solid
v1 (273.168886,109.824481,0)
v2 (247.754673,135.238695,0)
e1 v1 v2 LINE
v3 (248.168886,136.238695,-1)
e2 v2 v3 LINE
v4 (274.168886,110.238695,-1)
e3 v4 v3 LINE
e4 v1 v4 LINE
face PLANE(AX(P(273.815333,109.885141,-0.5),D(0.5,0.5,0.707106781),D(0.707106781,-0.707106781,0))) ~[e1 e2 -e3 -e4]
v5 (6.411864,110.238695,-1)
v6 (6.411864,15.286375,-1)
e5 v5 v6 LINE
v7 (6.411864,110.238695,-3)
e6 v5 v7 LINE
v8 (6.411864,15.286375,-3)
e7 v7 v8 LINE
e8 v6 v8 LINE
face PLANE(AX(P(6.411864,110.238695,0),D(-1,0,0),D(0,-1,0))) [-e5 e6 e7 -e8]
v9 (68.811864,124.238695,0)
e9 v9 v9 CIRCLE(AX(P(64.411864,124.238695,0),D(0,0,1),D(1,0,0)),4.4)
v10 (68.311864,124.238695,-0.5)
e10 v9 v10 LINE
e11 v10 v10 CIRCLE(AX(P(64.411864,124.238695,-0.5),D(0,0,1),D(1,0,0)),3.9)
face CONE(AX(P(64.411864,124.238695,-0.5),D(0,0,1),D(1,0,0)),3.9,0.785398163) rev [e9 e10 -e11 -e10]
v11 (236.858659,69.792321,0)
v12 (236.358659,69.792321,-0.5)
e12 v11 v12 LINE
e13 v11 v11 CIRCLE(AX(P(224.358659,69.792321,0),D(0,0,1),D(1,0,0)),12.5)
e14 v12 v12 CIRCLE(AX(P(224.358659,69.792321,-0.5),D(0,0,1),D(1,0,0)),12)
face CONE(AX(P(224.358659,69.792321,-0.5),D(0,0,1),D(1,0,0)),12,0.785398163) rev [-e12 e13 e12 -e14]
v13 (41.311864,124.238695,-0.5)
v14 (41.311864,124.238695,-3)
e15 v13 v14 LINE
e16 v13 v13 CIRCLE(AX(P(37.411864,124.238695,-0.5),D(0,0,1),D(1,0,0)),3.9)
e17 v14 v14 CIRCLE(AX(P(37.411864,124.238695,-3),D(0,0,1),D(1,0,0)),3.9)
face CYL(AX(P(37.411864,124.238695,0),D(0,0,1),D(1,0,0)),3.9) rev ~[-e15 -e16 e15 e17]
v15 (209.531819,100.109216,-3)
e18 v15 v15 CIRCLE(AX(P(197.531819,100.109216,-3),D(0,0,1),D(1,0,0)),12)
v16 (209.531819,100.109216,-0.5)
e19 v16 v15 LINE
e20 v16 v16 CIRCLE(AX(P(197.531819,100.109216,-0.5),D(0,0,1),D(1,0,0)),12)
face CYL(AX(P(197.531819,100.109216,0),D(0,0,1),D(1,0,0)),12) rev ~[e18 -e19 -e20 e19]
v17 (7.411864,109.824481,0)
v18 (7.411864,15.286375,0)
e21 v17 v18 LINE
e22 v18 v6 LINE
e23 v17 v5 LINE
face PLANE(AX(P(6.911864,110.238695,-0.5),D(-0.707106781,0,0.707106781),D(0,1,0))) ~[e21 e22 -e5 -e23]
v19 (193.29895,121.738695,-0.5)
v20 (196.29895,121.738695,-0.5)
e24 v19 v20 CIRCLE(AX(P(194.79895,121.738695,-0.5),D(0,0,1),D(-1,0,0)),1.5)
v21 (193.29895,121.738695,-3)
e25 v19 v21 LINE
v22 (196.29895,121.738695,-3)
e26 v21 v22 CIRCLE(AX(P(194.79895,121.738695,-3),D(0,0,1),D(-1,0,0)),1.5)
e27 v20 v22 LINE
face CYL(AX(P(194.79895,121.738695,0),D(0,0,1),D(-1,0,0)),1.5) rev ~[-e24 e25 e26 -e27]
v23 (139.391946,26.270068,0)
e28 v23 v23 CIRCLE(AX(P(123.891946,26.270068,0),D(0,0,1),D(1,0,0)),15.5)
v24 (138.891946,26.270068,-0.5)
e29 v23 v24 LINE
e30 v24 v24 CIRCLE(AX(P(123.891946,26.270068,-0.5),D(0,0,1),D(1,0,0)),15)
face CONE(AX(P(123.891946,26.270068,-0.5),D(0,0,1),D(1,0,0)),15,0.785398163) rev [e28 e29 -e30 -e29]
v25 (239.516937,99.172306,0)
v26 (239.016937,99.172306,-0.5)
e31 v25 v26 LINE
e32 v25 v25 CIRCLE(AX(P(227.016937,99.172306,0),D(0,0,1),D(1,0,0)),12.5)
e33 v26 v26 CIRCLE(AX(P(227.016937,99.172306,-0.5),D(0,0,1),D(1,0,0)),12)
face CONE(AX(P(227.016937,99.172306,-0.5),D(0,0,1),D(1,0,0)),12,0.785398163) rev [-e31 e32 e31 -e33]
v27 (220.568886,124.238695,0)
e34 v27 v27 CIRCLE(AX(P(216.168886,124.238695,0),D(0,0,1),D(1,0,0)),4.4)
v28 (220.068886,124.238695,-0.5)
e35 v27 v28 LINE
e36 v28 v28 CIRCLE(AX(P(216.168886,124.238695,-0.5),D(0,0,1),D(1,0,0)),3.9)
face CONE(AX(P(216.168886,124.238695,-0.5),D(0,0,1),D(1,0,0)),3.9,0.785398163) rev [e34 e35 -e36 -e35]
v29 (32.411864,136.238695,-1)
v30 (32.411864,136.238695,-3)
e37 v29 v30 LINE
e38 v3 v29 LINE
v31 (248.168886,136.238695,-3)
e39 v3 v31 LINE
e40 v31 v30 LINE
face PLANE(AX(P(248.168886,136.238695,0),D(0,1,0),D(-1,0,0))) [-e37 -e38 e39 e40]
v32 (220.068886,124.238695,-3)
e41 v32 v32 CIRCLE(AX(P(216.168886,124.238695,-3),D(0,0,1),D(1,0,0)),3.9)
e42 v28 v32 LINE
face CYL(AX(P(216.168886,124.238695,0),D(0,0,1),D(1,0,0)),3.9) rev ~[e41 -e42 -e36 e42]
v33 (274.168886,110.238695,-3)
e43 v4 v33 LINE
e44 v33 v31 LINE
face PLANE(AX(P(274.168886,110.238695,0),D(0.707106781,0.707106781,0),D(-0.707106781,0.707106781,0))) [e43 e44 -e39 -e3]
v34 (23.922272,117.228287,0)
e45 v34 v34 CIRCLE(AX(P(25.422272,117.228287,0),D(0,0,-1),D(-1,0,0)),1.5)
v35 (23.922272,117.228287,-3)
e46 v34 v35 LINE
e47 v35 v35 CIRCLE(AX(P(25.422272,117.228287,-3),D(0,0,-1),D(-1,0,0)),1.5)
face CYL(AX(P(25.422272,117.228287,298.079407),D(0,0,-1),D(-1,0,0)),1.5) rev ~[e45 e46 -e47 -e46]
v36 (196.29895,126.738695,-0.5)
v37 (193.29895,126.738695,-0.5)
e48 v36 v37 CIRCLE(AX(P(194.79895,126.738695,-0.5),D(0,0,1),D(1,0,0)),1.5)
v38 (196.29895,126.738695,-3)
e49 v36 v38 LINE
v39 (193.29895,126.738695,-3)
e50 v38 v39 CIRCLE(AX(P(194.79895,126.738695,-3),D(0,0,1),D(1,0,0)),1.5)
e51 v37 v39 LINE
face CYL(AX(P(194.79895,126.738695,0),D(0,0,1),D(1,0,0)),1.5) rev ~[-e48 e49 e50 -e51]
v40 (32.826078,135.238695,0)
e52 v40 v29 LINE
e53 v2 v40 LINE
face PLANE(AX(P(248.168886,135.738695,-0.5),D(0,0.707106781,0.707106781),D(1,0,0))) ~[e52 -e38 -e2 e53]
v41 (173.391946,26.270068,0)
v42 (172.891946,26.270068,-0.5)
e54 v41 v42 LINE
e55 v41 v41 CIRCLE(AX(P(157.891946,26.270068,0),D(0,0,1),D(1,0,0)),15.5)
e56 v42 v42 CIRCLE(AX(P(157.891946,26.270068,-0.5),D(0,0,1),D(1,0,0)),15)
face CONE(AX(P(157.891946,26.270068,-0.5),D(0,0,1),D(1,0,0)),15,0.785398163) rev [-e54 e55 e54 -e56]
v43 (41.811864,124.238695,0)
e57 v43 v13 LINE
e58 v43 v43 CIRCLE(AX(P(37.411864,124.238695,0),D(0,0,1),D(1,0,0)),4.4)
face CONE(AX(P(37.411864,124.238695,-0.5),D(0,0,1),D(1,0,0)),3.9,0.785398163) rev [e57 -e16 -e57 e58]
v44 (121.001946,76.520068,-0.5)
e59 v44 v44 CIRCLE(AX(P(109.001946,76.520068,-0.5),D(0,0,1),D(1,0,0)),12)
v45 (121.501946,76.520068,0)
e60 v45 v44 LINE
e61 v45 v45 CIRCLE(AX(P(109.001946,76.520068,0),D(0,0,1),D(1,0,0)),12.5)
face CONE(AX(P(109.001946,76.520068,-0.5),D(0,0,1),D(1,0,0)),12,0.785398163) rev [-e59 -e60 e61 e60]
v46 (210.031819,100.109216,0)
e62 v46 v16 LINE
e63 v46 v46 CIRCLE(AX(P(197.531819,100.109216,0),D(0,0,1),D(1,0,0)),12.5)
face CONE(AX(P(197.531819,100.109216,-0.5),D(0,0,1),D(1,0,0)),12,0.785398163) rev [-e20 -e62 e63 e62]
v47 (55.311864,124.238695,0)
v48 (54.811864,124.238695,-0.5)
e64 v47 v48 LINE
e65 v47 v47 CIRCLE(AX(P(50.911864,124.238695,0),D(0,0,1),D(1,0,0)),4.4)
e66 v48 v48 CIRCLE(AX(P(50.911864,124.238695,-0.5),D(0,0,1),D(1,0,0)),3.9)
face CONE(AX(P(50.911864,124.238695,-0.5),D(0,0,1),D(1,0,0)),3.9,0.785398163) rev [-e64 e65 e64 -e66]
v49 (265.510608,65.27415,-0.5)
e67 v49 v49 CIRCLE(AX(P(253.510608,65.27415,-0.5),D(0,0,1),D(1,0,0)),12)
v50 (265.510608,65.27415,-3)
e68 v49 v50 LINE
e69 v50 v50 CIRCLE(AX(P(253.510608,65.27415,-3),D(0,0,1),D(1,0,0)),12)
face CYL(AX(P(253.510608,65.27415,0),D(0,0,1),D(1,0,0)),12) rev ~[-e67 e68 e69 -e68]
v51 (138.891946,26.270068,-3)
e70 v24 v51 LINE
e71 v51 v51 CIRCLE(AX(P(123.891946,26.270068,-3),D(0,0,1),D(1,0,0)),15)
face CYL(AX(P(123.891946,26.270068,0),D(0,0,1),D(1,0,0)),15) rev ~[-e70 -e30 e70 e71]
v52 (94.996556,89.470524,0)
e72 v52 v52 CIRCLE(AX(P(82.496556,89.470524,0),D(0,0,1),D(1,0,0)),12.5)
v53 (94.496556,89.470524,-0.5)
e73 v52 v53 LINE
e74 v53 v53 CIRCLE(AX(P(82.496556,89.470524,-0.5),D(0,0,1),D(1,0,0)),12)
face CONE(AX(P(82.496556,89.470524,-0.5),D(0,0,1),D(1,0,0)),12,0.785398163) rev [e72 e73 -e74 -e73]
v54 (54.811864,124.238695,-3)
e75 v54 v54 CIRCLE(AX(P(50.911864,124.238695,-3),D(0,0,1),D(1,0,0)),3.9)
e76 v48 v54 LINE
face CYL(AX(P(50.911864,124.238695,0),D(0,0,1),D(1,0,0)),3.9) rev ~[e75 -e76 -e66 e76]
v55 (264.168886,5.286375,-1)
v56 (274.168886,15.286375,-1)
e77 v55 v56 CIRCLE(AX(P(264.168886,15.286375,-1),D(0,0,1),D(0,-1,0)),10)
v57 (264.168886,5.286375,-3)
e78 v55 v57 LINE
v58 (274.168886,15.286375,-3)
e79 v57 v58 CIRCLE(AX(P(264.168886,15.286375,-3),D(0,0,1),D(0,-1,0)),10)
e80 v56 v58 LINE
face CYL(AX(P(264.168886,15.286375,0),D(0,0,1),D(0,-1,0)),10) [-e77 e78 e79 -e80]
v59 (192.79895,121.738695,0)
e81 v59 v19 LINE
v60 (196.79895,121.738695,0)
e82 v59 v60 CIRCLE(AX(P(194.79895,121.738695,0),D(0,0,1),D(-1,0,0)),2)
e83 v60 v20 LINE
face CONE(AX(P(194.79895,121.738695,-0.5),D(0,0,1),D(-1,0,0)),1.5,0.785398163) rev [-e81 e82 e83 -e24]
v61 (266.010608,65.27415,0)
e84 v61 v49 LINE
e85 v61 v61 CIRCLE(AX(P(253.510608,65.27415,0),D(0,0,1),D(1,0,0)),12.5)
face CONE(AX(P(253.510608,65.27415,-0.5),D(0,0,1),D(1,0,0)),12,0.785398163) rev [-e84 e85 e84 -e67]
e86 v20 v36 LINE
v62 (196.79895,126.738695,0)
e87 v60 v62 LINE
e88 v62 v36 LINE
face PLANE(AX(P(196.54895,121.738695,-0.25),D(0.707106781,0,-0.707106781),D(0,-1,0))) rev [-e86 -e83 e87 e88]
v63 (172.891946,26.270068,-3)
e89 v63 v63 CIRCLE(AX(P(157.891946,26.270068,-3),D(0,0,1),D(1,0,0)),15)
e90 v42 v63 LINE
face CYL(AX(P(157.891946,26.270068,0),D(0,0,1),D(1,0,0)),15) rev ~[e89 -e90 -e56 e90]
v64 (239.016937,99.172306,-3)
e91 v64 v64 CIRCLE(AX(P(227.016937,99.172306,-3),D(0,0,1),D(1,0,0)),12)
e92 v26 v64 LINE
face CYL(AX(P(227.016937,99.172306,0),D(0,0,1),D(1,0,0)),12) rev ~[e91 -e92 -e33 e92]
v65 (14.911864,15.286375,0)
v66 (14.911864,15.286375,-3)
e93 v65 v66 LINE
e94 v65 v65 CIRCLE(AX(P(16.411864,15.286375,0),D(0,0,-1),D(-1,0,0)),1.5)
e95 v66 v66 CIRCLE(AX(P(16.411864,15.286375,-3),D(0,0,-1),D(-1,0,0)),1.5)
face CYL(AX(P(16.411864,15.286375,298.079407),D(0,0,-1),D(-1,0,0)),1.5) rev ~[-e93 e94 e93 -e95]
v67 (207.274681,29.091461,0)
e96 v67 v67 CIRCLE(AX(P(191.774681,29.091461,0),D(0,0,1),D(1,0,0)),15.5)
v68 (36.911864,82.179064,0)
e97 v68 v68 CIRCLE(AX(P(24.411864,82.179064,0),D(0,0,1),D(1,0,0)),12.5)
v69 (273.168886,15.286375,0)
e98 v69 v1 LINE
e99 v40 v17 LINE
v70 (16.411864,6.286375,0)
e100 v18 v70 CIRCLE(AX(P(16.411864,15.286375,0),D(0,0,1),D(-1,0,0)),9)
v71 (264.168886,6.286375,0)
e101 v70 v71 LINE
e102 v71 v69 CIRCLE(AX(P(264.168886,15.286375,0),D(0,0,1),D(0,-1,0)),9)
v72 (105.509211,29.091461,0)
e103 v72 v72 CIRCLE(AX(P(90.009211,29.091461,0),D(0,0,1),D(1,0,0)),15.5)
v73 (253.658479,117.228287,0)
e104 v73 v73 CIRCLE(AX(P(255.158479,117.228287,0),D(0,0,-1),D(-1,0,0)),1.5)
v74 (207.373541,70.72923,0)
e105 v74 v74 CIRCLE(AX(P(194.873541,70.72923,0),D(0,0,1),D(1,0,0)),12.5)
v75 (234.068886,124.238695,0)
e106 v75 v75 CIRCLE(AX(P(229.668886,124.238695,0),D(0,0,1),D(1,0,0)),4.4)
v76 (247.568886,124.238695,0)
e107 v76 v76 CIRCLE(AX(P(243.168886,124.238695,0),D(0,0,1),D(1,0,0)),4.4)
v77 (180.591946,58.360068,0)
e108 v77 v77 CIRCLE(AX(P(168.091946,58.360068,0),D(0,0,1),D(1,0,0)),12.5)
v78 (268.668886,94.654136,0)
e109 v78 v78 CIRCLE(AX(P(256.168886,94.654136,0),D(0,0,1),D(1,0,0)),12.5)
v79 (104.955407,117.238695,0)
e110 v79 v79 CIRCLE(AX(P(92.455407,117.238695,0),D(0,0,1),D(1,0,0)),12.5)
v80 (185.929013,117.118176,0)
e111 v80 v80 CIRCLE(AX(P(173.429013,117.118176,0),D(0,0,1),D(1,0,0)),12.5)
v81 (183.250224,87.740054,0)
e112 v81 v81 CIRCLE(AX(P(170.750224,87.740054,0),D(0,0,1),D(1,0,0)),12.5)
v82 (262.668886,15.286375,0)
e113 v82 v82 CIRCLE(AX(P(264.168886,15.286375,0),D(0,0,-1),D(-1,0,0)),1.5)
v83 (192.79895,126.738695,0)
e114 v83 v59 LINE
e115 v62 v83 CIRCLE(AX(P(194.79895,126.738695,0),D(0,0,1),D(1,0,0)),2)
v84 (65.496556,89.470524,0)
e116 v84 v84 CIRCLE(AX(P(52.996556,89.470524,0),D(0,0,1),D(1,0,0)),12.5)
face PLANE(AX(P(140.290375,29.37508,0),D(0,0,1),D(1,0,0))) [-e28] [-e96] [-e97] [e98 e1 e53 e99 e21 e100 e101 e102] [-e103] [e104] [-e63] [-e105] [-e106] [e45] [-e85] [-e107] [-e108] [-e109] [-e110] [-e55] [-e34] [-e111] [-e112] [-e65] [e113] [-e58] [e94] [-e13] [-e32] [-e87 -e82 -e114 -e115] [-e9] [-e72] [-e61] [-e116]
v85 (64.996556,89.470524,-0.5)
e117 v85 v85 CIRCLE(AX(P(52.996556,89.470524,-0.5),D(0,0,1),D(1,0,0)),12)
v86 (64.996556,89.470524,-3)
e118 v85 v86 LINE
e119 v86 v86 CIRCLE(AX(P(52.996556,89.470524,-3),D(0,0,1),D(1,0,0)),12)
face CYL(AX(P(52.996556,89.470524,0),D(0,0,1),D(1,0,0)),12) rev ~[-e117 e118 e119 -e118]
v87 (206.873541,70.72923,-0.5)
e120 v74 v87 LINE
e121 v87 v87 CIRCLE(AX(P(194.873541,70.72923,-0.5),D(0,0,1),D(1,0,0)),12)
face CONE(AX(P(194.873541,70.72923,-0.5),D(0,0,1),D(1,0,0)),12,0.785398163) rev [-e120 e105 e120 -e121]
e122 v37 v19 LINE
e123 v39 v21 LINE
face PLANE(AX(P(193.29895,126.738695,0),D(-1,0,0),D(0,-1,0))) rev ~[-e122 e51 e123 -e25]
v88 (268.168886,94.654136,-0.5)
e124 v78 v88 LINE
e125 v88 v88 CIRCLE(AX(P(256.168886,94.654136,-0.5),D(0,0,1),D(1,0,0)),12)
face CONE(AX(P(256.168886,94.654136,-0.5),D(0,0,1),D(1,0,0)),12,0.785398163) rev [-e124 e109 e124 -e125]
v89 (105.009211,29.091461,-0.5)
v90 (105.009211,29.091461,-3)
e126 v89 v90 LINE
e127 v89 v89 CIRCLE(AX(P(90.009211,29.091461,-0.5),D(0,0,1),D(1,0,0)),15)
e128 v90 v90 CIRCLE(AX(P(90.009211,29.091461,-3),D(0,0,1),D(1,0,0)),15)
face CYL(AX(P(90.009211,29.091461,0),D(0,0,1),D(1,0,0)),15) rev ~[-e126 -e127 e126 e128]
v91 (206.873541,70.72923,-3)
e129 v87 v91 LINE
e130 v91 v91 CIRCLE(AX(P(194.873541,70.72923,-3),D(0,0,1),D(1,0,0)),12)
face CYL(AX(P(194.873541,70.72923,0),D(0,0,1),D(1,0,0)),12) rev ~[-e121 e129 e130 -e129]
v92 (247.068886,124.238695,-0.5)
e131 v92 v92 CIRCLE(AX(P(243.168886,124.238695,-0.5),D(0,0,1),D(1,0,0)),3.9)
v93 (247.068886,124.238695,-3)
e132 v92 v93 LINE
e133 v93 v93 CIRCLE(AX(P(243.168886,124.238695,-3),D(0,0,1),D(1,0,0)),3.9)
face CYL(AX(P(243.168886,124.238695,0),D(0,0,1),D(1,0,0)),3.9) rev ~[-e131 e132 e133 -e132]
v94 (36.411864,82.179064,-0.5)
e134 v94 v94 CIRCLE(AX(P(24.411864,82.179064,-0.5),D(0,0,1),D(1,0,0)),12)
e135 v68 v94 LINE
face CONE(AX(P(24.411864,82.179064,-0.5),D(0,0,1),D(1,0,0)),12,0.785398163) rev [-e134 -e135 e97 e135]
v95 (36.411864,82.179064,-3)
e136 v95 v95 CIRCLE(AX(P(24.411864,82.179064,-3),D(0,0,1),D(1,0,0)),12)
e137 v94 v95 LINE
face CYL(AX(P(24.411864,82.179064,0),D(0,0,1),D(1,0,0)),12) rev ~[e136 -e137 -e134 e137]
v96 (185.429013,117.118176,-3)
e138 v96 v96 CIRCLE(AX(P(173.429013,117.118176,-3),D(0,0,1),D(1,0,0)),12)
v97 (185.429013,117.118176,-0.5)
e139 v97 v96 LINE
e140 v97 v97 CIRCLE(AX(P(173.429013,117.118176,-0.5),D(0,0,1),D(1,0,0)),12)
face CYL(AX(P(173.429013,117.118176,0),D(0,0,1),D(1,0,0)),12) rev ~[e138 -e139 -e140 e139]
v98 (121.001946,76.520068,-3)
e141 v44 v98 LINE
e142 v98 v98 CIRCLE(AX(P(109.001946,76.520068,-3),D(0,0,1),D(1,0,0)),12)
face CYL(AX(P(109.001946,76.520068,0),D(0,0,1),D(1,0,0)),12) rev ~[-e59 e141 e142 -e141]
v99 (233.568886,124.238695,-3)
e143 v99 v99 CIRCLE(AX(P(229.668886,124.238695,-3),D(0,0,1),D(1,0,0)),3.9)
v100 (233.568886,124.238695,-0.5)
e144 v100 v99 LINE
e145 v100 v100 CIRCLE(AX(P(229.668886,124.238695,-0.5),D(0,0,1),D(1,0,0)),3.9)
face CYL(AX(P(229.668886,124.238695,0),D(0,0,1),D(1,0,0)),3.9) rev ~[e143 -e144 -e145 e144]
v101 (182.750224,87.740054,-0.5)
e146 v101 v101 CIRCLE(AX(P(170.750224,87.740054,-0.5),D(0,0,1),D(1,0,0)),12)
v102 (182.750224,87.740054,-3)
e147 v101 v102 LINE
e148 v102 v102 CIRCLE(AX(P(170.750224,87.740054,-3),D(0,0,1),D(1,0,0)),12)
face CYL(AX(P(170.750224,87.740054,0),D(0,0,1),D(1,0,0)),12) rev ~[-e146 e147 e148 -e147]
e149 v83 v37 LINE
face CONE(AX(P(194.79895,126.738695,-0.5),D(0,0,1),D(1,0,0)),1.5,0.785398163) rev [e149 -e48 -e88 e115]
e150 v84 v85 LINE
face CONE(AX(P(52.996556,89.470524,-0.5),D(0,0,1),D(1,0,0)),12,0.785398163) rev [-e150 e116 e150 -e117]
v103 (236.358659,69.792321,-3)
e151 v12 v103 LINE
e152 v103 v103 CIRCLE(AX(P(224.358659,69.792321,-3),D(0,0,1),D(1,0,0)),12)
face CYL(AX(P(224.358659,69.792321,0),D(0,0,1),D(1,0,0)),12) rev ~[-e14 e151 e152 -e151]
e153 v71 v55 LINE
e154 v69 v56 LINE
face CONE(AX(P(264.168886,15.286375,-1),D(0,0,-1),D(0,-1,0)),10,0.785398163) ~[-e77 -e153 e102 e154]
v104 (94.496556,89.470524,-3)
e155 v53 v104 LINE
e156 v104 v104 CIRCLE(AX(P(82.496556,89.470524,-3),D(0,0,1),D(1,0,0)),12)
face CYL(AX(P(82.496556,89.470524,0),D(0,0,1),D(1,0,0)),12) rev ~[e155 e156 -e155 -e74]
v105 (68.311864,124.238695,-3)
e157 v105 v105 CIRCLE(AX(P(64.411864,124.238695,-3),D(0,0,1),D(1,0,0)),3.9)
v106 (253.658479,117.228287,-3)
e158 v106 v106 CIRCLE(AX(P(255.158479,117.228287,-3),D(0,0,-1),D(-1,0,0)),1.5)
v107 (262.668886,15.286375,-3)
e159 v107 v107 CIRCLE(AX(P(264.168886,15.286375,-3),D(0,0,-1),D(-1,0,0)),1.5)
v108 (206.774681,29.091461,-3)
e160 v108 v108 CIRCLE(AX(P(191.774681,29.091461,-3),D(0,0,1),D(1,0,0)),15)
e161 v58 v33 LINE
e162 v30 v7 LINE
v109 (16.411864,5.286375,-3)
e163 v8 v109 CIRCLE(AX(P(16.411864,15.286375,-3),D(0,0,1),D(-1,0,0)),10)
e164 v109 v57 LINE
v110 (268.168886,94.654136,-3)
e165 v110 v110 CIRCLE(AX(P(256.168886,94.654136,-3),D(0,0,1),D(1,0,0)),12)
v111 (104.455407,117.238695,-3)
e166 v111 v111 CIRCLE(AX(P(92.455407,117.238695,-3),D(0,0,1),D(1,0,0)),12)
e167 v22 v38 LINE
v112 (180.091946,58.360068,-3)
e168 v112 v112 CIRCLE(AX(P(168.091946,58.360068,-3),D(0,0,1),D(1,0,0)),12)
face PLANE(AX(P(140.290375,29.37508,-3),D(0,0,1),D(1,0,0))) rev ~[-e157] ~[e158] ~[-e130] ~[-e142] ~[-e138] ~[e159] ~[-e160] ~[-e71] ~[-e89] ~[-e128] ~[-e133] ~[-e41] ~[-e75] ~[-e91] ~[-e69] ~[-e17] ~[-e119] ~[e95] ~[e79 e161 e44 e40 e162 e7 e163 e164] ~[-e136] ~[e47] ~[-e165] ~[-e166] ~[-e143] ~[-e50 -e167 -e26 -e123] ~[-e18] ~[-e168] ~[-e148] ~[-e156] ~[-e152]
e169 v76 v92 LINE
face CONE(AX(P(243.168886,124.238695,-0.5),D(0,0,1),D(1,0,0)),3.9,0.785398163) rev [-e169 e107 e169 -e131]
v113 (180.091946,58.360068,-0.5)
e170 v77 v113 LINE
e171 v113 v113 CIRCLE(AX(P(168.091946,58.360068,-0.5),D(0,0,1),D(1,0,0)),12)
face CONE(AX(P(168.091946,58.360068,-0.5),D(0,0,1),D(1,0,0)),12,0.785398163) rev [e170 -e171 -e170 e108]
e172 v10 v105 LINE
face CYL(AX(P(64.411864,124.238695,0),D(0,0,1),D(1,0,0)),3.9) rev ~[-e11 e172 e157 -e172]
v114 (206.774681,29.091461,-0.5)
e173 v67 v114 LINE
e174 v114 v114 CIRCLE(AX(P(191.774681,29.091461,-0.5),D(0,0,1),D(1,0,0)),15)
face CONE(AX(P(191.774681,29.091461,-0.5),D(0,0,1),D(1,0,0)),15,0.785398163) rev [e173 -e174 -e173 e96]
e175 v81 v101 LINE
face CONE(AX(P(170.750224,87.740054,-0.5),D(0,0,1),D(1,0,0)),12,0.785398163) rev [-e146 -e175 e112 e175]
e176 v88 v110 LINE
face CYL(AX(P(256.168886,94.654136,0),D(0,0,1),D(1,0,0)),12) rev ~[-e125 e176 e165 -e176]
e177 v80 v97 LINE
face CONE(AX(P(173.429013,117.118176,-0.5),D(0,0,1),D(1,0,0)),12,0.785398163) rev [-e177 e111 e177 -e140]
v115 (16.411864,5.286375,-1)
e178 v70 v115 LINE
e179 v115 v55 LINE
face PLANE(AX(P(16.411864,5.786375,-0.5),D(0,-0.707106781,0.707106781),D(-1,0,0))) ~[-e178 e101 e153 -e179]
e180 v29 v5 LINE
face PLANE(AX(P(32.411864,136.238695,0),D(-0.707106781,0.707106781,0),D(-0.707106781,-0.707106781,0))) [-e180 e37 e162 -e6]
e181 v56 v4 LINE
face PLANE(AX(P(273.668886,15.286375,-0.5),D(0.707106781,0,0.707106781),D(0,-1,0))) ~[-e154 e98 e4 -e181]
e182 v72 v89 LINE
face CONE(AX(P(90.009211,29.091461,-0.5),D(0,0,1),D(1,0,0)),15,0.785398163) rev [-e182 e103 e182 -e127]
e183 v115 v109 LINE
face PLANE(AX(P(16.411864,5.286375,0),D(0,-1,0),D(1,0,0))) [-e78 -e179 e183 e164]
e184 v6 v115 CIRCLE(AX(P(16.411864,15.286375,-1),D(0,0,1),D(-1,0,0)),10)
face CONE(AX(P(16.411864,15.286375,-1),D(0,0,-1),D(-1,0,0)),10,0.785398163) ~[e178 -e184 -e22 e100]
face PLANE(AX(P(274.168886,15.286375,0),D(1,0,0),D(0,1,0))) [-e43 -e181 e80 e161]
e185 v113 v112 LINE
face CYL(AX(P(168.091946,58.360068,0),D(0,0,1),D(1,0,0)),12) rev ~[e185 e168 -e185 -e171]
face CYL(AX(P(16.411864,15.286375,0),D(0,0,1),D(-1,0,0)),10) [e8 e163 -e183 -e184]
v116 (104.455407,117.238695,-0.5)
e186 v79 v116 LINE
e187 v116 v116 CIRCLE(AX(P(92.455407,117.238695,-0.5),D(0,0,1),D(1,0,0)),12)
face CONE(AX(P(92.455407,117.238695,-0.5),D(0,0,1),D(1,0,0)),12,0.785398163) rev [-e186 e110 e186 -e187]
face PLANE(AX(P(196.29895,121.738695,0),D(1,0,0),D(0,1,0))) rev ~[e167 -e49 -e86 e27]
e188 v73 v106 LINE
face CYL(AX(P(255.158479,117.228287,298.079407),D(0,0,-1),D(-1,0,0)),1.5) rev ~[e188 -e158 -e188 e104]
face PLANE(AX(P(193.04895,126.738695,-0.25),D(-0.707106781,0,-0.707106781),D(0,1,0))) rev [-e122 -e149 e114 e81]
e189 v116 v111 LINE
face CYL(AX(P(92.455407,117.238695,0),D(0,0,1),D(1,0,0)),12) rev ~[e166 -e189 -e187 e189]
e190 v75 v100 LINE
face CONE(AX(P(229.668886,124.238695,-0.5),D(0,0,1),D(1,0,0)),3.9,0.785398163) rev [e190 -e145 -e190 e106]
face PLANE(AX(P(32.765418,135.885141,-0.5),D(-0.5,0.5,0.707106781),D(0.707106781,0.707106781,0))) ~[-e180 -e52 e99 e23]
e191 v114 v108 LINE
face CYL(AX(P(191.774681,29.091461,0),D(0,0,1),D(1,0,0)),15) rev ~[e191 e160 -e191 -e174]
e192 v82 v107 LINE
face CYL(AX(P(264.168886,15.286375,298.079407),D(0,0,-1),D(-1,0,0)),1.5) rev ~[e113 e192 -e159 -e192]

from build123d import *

# Parameters (mm, degrees)
BOSS_EXTRUDE1_DEPTH   = 3
SKETCH24_R            = 3.9
CUT_EXTRUDE2_DEPTH    = 307.167536128
SKETCH1_R             = 12
SKETCH1_R_2           = 15
CUT_EXTRUDE3_DEPTH    = 307.167536128
F_3_0MM_DOWEL_HOLE1_D = 3
CHAMFER1_SIZE         = 1
CHAMFER2_SIZE         = 0.5


with BuildPart() as part:
    # Sketch2 → Boss-Extrude1 (new body)
    with BuildSketch(Plane.XY):
        with BuildLine():
            Line((6.41186441, 110.238694526), (6.41186441, 15.286374556))
            ThreePointArc((6.41186441, 15.286374556), (9.340796598, 8.215306744), (16.41186441, 5.286374556))
            Line((16.41186441, 5.286374556), (264.168886442, 5.286374556))
            ThreePointArc((264.168886442, 5.286374556), (271.239954254, 8.215306744), (274.168886442, 15.286374556))
            Line((274.168886442, 15.286374556), (274.168886442, 110.238694526))
            Line((274.168886442, 110.238694526), (248.168886442, 136.238694526))
            Line((248.168886442, 136.238694526), (32.41186441, 136.238694526))
            Line((32.41186441, 136.238694526), (6.41186441, 110.238694526))
        make_face()
    extrude(amount=-BOSS_EXTRUDE1_DEPTH)

    # Sketch24 → Cut-Extrude2 (cut, through all)
    with BuildSketch(Plane.XY):
        with Locations((37.41186441, 124.238694526)):
            Circle(SKETCH24_R)
        with Locations((50.91186441, 124.238694526)):
            Circle(SKETCH24_R)
        with Locations((64.41186441, 124.238694526)):
            Circle(SKETCH24_R)
        with Locations((216.168886442, 124.238694526)):
            Circle(SKETCH24_R)
        with Locations((229.668886442, 124.238694526)):
            Circle(SKETCH24_R)
        with Locations((243.168886442, 124.238694526)):
            Circle(SKETCH24_R)
        with BuildLine():
            Line((193.298949614, 126.738694526), (193.298949614, 121.738694526))
            ThreePointArc((193.298949614, 121.738694526), (194.798949614, 120.238694526), (196.298949614, 121.738694526))
            Line((196.298949614, 121.738694526), (196.298949614, 126.738694526))
            ThreePointArc((196.298949614, 126.738694526), (194.798949614, 128.238694526), (193.298949614, 126.738694526))
        make_face()
    extrude(amount=-CUT_EXTRUDE2_DEPTH, mode=Mode.SUBTRACT)

    # Sketch1 → Cut-Extrude3 (cut, through all)
    with BuildSketch(Plane.XY):
        with Locations((24.41186441, 82.179064133)):
            Circle(SKETCH1_R)
        with Locations((52.996556322, 89.470524089)):
            Circle(SKETCH1_R)
        with Locations((92.45540719, 117.238694526)):
            Circle(SKETCH1_R)
        with Locations((82.496556322, 89.470524089)):
            Circle(SKETCH1_R)
        with Locations((109.001946024, 76.520067852)):
            Circle(SKETCH1_R)
        with Locations((168.091946024, 58.360067852)):
            Circle(SKETCH1_R)
        with Locations((194.873540874, 70.729230202)):
            Circle(SKETCH1_R)
        with Locations((224.358659158, 69.792320505)):
            Circle(SKETCH1_R)
        with Locations((253.510608286, 65.274150291)):
            Circle(SKETCH1_R)
        with Locations((256.168886442, 94.654135948)):
            Circle(SKETCH1_R)
        with Locations((227.016937315, 99.172306162)):
            Circle(SKETCH1_R)
        with Locations((197.531819031, 100.10921586)):
            Circle(SKETCH1_R)
        with Locations((170.75022418, 87.740053509)):
            Circle(SKETCH1_R)
        with Locations((191.774681199, 29.091460603)):
            Circle(SKETCH1_R_2)
        with Locations((157.891946024, 26.270067852)):
            Circle(SKETCH1_R_2)
        with Locations((123.891946024, 26.270067852)):
            Circle(SKETCH1_R_2)
        with Locations((90.009210849, 29.091460603)):
            Circle(SKETCH1_R_2)
        with Locations((173.429012786, 117.118176179)):
            Circle(SKETCH1_R)
    extrude(amount=-CUT_EXTRUDE3_DEPTH, mode=Mode.SUBTRACT)

    # Ø3.0mm Dowel Hole1 (through all)
    with Locations(Plane.XY):
        with Locations((25.42227205, 117.228286886), (16.41186441, 15.286374556), (264.168886442, 15.286374556), (255.158478802, 117.228286886)):
            Hole(F_3_0MM_DOWEL_HOLE1_D / 2)

    # Chamfer1
    chamfer1_edges = [part.edges().sort_by_distance(p)[0] for p in [
        (274.168886442, 62.762534541, 0),
        (271.239954254, 8.215306744, 0),
        (140.290375426, 5.286374556, 0),
        (9.340796598, 8.215306744, 0),
        (261.168886442, 123.238694526, 0),
        (140.290375426, 136.238694526, 0),
        (6.41186441, 62.762534541, 0),
        (19.41186441, 123.238694526, 0),
    ]]
    chamfer(chamfer1_edges, length=CHAMFER1_SIZE)

    # Chamfer2
    chamfer2_edges = [part.edges().sort_by_distance(p)[0] for p in [
        (239.268886442, 124.238694526, 0),
        (225.768886442, 124.238694526, 0),
        (212.268886442, 124.238694526, 0),
        (193.298949614, 124.238694526, 0),
        (194.798949614, 120.238694526, 0),
        (194.798949614, 128.238694526, 0),
        (196.298949614, 124.238694526, 0),
        (60.51186441, 124.238694526, 0),
        (47.01186441, 124.238694526, 0),
        (33.51186441, 124.238694526, 0),
        (161.429012786, 117.118176179, 0),
        (244.168886442, 94.654135948, 0),
        (215.016937315, 99.172306162, 0),
        (185.531819031, 100.10921586, 0),
        (158.75022418, 87.740053509, 0),
        (182.873540874, 70.729230202, 0),
        (212.358659158, 69.792320505, 0),
        (241.510608286, 65.274150291, 0),
        (176.774681199, 29.091460603, 0),
        (156.091946024, 58.360067852, 0),
        (142.891946024, 26.270067852, 0),
        (108.891946024, 26.270067852, 0),
        (97.001946024, 76.520067852, 0),
        (75.009210849, 29.091460603, 0),
        (80.45540719, 117.238694526, 0),
        (70.496556322, 89.470524089, 0),
        (40.996556322, 89.470524089, 0),
        (12.41186441, 82.179064133, 0),
    ]]
    chamfer(chamfer2_edges, length=CHAMFER2_SIZE)


solid = part.part
